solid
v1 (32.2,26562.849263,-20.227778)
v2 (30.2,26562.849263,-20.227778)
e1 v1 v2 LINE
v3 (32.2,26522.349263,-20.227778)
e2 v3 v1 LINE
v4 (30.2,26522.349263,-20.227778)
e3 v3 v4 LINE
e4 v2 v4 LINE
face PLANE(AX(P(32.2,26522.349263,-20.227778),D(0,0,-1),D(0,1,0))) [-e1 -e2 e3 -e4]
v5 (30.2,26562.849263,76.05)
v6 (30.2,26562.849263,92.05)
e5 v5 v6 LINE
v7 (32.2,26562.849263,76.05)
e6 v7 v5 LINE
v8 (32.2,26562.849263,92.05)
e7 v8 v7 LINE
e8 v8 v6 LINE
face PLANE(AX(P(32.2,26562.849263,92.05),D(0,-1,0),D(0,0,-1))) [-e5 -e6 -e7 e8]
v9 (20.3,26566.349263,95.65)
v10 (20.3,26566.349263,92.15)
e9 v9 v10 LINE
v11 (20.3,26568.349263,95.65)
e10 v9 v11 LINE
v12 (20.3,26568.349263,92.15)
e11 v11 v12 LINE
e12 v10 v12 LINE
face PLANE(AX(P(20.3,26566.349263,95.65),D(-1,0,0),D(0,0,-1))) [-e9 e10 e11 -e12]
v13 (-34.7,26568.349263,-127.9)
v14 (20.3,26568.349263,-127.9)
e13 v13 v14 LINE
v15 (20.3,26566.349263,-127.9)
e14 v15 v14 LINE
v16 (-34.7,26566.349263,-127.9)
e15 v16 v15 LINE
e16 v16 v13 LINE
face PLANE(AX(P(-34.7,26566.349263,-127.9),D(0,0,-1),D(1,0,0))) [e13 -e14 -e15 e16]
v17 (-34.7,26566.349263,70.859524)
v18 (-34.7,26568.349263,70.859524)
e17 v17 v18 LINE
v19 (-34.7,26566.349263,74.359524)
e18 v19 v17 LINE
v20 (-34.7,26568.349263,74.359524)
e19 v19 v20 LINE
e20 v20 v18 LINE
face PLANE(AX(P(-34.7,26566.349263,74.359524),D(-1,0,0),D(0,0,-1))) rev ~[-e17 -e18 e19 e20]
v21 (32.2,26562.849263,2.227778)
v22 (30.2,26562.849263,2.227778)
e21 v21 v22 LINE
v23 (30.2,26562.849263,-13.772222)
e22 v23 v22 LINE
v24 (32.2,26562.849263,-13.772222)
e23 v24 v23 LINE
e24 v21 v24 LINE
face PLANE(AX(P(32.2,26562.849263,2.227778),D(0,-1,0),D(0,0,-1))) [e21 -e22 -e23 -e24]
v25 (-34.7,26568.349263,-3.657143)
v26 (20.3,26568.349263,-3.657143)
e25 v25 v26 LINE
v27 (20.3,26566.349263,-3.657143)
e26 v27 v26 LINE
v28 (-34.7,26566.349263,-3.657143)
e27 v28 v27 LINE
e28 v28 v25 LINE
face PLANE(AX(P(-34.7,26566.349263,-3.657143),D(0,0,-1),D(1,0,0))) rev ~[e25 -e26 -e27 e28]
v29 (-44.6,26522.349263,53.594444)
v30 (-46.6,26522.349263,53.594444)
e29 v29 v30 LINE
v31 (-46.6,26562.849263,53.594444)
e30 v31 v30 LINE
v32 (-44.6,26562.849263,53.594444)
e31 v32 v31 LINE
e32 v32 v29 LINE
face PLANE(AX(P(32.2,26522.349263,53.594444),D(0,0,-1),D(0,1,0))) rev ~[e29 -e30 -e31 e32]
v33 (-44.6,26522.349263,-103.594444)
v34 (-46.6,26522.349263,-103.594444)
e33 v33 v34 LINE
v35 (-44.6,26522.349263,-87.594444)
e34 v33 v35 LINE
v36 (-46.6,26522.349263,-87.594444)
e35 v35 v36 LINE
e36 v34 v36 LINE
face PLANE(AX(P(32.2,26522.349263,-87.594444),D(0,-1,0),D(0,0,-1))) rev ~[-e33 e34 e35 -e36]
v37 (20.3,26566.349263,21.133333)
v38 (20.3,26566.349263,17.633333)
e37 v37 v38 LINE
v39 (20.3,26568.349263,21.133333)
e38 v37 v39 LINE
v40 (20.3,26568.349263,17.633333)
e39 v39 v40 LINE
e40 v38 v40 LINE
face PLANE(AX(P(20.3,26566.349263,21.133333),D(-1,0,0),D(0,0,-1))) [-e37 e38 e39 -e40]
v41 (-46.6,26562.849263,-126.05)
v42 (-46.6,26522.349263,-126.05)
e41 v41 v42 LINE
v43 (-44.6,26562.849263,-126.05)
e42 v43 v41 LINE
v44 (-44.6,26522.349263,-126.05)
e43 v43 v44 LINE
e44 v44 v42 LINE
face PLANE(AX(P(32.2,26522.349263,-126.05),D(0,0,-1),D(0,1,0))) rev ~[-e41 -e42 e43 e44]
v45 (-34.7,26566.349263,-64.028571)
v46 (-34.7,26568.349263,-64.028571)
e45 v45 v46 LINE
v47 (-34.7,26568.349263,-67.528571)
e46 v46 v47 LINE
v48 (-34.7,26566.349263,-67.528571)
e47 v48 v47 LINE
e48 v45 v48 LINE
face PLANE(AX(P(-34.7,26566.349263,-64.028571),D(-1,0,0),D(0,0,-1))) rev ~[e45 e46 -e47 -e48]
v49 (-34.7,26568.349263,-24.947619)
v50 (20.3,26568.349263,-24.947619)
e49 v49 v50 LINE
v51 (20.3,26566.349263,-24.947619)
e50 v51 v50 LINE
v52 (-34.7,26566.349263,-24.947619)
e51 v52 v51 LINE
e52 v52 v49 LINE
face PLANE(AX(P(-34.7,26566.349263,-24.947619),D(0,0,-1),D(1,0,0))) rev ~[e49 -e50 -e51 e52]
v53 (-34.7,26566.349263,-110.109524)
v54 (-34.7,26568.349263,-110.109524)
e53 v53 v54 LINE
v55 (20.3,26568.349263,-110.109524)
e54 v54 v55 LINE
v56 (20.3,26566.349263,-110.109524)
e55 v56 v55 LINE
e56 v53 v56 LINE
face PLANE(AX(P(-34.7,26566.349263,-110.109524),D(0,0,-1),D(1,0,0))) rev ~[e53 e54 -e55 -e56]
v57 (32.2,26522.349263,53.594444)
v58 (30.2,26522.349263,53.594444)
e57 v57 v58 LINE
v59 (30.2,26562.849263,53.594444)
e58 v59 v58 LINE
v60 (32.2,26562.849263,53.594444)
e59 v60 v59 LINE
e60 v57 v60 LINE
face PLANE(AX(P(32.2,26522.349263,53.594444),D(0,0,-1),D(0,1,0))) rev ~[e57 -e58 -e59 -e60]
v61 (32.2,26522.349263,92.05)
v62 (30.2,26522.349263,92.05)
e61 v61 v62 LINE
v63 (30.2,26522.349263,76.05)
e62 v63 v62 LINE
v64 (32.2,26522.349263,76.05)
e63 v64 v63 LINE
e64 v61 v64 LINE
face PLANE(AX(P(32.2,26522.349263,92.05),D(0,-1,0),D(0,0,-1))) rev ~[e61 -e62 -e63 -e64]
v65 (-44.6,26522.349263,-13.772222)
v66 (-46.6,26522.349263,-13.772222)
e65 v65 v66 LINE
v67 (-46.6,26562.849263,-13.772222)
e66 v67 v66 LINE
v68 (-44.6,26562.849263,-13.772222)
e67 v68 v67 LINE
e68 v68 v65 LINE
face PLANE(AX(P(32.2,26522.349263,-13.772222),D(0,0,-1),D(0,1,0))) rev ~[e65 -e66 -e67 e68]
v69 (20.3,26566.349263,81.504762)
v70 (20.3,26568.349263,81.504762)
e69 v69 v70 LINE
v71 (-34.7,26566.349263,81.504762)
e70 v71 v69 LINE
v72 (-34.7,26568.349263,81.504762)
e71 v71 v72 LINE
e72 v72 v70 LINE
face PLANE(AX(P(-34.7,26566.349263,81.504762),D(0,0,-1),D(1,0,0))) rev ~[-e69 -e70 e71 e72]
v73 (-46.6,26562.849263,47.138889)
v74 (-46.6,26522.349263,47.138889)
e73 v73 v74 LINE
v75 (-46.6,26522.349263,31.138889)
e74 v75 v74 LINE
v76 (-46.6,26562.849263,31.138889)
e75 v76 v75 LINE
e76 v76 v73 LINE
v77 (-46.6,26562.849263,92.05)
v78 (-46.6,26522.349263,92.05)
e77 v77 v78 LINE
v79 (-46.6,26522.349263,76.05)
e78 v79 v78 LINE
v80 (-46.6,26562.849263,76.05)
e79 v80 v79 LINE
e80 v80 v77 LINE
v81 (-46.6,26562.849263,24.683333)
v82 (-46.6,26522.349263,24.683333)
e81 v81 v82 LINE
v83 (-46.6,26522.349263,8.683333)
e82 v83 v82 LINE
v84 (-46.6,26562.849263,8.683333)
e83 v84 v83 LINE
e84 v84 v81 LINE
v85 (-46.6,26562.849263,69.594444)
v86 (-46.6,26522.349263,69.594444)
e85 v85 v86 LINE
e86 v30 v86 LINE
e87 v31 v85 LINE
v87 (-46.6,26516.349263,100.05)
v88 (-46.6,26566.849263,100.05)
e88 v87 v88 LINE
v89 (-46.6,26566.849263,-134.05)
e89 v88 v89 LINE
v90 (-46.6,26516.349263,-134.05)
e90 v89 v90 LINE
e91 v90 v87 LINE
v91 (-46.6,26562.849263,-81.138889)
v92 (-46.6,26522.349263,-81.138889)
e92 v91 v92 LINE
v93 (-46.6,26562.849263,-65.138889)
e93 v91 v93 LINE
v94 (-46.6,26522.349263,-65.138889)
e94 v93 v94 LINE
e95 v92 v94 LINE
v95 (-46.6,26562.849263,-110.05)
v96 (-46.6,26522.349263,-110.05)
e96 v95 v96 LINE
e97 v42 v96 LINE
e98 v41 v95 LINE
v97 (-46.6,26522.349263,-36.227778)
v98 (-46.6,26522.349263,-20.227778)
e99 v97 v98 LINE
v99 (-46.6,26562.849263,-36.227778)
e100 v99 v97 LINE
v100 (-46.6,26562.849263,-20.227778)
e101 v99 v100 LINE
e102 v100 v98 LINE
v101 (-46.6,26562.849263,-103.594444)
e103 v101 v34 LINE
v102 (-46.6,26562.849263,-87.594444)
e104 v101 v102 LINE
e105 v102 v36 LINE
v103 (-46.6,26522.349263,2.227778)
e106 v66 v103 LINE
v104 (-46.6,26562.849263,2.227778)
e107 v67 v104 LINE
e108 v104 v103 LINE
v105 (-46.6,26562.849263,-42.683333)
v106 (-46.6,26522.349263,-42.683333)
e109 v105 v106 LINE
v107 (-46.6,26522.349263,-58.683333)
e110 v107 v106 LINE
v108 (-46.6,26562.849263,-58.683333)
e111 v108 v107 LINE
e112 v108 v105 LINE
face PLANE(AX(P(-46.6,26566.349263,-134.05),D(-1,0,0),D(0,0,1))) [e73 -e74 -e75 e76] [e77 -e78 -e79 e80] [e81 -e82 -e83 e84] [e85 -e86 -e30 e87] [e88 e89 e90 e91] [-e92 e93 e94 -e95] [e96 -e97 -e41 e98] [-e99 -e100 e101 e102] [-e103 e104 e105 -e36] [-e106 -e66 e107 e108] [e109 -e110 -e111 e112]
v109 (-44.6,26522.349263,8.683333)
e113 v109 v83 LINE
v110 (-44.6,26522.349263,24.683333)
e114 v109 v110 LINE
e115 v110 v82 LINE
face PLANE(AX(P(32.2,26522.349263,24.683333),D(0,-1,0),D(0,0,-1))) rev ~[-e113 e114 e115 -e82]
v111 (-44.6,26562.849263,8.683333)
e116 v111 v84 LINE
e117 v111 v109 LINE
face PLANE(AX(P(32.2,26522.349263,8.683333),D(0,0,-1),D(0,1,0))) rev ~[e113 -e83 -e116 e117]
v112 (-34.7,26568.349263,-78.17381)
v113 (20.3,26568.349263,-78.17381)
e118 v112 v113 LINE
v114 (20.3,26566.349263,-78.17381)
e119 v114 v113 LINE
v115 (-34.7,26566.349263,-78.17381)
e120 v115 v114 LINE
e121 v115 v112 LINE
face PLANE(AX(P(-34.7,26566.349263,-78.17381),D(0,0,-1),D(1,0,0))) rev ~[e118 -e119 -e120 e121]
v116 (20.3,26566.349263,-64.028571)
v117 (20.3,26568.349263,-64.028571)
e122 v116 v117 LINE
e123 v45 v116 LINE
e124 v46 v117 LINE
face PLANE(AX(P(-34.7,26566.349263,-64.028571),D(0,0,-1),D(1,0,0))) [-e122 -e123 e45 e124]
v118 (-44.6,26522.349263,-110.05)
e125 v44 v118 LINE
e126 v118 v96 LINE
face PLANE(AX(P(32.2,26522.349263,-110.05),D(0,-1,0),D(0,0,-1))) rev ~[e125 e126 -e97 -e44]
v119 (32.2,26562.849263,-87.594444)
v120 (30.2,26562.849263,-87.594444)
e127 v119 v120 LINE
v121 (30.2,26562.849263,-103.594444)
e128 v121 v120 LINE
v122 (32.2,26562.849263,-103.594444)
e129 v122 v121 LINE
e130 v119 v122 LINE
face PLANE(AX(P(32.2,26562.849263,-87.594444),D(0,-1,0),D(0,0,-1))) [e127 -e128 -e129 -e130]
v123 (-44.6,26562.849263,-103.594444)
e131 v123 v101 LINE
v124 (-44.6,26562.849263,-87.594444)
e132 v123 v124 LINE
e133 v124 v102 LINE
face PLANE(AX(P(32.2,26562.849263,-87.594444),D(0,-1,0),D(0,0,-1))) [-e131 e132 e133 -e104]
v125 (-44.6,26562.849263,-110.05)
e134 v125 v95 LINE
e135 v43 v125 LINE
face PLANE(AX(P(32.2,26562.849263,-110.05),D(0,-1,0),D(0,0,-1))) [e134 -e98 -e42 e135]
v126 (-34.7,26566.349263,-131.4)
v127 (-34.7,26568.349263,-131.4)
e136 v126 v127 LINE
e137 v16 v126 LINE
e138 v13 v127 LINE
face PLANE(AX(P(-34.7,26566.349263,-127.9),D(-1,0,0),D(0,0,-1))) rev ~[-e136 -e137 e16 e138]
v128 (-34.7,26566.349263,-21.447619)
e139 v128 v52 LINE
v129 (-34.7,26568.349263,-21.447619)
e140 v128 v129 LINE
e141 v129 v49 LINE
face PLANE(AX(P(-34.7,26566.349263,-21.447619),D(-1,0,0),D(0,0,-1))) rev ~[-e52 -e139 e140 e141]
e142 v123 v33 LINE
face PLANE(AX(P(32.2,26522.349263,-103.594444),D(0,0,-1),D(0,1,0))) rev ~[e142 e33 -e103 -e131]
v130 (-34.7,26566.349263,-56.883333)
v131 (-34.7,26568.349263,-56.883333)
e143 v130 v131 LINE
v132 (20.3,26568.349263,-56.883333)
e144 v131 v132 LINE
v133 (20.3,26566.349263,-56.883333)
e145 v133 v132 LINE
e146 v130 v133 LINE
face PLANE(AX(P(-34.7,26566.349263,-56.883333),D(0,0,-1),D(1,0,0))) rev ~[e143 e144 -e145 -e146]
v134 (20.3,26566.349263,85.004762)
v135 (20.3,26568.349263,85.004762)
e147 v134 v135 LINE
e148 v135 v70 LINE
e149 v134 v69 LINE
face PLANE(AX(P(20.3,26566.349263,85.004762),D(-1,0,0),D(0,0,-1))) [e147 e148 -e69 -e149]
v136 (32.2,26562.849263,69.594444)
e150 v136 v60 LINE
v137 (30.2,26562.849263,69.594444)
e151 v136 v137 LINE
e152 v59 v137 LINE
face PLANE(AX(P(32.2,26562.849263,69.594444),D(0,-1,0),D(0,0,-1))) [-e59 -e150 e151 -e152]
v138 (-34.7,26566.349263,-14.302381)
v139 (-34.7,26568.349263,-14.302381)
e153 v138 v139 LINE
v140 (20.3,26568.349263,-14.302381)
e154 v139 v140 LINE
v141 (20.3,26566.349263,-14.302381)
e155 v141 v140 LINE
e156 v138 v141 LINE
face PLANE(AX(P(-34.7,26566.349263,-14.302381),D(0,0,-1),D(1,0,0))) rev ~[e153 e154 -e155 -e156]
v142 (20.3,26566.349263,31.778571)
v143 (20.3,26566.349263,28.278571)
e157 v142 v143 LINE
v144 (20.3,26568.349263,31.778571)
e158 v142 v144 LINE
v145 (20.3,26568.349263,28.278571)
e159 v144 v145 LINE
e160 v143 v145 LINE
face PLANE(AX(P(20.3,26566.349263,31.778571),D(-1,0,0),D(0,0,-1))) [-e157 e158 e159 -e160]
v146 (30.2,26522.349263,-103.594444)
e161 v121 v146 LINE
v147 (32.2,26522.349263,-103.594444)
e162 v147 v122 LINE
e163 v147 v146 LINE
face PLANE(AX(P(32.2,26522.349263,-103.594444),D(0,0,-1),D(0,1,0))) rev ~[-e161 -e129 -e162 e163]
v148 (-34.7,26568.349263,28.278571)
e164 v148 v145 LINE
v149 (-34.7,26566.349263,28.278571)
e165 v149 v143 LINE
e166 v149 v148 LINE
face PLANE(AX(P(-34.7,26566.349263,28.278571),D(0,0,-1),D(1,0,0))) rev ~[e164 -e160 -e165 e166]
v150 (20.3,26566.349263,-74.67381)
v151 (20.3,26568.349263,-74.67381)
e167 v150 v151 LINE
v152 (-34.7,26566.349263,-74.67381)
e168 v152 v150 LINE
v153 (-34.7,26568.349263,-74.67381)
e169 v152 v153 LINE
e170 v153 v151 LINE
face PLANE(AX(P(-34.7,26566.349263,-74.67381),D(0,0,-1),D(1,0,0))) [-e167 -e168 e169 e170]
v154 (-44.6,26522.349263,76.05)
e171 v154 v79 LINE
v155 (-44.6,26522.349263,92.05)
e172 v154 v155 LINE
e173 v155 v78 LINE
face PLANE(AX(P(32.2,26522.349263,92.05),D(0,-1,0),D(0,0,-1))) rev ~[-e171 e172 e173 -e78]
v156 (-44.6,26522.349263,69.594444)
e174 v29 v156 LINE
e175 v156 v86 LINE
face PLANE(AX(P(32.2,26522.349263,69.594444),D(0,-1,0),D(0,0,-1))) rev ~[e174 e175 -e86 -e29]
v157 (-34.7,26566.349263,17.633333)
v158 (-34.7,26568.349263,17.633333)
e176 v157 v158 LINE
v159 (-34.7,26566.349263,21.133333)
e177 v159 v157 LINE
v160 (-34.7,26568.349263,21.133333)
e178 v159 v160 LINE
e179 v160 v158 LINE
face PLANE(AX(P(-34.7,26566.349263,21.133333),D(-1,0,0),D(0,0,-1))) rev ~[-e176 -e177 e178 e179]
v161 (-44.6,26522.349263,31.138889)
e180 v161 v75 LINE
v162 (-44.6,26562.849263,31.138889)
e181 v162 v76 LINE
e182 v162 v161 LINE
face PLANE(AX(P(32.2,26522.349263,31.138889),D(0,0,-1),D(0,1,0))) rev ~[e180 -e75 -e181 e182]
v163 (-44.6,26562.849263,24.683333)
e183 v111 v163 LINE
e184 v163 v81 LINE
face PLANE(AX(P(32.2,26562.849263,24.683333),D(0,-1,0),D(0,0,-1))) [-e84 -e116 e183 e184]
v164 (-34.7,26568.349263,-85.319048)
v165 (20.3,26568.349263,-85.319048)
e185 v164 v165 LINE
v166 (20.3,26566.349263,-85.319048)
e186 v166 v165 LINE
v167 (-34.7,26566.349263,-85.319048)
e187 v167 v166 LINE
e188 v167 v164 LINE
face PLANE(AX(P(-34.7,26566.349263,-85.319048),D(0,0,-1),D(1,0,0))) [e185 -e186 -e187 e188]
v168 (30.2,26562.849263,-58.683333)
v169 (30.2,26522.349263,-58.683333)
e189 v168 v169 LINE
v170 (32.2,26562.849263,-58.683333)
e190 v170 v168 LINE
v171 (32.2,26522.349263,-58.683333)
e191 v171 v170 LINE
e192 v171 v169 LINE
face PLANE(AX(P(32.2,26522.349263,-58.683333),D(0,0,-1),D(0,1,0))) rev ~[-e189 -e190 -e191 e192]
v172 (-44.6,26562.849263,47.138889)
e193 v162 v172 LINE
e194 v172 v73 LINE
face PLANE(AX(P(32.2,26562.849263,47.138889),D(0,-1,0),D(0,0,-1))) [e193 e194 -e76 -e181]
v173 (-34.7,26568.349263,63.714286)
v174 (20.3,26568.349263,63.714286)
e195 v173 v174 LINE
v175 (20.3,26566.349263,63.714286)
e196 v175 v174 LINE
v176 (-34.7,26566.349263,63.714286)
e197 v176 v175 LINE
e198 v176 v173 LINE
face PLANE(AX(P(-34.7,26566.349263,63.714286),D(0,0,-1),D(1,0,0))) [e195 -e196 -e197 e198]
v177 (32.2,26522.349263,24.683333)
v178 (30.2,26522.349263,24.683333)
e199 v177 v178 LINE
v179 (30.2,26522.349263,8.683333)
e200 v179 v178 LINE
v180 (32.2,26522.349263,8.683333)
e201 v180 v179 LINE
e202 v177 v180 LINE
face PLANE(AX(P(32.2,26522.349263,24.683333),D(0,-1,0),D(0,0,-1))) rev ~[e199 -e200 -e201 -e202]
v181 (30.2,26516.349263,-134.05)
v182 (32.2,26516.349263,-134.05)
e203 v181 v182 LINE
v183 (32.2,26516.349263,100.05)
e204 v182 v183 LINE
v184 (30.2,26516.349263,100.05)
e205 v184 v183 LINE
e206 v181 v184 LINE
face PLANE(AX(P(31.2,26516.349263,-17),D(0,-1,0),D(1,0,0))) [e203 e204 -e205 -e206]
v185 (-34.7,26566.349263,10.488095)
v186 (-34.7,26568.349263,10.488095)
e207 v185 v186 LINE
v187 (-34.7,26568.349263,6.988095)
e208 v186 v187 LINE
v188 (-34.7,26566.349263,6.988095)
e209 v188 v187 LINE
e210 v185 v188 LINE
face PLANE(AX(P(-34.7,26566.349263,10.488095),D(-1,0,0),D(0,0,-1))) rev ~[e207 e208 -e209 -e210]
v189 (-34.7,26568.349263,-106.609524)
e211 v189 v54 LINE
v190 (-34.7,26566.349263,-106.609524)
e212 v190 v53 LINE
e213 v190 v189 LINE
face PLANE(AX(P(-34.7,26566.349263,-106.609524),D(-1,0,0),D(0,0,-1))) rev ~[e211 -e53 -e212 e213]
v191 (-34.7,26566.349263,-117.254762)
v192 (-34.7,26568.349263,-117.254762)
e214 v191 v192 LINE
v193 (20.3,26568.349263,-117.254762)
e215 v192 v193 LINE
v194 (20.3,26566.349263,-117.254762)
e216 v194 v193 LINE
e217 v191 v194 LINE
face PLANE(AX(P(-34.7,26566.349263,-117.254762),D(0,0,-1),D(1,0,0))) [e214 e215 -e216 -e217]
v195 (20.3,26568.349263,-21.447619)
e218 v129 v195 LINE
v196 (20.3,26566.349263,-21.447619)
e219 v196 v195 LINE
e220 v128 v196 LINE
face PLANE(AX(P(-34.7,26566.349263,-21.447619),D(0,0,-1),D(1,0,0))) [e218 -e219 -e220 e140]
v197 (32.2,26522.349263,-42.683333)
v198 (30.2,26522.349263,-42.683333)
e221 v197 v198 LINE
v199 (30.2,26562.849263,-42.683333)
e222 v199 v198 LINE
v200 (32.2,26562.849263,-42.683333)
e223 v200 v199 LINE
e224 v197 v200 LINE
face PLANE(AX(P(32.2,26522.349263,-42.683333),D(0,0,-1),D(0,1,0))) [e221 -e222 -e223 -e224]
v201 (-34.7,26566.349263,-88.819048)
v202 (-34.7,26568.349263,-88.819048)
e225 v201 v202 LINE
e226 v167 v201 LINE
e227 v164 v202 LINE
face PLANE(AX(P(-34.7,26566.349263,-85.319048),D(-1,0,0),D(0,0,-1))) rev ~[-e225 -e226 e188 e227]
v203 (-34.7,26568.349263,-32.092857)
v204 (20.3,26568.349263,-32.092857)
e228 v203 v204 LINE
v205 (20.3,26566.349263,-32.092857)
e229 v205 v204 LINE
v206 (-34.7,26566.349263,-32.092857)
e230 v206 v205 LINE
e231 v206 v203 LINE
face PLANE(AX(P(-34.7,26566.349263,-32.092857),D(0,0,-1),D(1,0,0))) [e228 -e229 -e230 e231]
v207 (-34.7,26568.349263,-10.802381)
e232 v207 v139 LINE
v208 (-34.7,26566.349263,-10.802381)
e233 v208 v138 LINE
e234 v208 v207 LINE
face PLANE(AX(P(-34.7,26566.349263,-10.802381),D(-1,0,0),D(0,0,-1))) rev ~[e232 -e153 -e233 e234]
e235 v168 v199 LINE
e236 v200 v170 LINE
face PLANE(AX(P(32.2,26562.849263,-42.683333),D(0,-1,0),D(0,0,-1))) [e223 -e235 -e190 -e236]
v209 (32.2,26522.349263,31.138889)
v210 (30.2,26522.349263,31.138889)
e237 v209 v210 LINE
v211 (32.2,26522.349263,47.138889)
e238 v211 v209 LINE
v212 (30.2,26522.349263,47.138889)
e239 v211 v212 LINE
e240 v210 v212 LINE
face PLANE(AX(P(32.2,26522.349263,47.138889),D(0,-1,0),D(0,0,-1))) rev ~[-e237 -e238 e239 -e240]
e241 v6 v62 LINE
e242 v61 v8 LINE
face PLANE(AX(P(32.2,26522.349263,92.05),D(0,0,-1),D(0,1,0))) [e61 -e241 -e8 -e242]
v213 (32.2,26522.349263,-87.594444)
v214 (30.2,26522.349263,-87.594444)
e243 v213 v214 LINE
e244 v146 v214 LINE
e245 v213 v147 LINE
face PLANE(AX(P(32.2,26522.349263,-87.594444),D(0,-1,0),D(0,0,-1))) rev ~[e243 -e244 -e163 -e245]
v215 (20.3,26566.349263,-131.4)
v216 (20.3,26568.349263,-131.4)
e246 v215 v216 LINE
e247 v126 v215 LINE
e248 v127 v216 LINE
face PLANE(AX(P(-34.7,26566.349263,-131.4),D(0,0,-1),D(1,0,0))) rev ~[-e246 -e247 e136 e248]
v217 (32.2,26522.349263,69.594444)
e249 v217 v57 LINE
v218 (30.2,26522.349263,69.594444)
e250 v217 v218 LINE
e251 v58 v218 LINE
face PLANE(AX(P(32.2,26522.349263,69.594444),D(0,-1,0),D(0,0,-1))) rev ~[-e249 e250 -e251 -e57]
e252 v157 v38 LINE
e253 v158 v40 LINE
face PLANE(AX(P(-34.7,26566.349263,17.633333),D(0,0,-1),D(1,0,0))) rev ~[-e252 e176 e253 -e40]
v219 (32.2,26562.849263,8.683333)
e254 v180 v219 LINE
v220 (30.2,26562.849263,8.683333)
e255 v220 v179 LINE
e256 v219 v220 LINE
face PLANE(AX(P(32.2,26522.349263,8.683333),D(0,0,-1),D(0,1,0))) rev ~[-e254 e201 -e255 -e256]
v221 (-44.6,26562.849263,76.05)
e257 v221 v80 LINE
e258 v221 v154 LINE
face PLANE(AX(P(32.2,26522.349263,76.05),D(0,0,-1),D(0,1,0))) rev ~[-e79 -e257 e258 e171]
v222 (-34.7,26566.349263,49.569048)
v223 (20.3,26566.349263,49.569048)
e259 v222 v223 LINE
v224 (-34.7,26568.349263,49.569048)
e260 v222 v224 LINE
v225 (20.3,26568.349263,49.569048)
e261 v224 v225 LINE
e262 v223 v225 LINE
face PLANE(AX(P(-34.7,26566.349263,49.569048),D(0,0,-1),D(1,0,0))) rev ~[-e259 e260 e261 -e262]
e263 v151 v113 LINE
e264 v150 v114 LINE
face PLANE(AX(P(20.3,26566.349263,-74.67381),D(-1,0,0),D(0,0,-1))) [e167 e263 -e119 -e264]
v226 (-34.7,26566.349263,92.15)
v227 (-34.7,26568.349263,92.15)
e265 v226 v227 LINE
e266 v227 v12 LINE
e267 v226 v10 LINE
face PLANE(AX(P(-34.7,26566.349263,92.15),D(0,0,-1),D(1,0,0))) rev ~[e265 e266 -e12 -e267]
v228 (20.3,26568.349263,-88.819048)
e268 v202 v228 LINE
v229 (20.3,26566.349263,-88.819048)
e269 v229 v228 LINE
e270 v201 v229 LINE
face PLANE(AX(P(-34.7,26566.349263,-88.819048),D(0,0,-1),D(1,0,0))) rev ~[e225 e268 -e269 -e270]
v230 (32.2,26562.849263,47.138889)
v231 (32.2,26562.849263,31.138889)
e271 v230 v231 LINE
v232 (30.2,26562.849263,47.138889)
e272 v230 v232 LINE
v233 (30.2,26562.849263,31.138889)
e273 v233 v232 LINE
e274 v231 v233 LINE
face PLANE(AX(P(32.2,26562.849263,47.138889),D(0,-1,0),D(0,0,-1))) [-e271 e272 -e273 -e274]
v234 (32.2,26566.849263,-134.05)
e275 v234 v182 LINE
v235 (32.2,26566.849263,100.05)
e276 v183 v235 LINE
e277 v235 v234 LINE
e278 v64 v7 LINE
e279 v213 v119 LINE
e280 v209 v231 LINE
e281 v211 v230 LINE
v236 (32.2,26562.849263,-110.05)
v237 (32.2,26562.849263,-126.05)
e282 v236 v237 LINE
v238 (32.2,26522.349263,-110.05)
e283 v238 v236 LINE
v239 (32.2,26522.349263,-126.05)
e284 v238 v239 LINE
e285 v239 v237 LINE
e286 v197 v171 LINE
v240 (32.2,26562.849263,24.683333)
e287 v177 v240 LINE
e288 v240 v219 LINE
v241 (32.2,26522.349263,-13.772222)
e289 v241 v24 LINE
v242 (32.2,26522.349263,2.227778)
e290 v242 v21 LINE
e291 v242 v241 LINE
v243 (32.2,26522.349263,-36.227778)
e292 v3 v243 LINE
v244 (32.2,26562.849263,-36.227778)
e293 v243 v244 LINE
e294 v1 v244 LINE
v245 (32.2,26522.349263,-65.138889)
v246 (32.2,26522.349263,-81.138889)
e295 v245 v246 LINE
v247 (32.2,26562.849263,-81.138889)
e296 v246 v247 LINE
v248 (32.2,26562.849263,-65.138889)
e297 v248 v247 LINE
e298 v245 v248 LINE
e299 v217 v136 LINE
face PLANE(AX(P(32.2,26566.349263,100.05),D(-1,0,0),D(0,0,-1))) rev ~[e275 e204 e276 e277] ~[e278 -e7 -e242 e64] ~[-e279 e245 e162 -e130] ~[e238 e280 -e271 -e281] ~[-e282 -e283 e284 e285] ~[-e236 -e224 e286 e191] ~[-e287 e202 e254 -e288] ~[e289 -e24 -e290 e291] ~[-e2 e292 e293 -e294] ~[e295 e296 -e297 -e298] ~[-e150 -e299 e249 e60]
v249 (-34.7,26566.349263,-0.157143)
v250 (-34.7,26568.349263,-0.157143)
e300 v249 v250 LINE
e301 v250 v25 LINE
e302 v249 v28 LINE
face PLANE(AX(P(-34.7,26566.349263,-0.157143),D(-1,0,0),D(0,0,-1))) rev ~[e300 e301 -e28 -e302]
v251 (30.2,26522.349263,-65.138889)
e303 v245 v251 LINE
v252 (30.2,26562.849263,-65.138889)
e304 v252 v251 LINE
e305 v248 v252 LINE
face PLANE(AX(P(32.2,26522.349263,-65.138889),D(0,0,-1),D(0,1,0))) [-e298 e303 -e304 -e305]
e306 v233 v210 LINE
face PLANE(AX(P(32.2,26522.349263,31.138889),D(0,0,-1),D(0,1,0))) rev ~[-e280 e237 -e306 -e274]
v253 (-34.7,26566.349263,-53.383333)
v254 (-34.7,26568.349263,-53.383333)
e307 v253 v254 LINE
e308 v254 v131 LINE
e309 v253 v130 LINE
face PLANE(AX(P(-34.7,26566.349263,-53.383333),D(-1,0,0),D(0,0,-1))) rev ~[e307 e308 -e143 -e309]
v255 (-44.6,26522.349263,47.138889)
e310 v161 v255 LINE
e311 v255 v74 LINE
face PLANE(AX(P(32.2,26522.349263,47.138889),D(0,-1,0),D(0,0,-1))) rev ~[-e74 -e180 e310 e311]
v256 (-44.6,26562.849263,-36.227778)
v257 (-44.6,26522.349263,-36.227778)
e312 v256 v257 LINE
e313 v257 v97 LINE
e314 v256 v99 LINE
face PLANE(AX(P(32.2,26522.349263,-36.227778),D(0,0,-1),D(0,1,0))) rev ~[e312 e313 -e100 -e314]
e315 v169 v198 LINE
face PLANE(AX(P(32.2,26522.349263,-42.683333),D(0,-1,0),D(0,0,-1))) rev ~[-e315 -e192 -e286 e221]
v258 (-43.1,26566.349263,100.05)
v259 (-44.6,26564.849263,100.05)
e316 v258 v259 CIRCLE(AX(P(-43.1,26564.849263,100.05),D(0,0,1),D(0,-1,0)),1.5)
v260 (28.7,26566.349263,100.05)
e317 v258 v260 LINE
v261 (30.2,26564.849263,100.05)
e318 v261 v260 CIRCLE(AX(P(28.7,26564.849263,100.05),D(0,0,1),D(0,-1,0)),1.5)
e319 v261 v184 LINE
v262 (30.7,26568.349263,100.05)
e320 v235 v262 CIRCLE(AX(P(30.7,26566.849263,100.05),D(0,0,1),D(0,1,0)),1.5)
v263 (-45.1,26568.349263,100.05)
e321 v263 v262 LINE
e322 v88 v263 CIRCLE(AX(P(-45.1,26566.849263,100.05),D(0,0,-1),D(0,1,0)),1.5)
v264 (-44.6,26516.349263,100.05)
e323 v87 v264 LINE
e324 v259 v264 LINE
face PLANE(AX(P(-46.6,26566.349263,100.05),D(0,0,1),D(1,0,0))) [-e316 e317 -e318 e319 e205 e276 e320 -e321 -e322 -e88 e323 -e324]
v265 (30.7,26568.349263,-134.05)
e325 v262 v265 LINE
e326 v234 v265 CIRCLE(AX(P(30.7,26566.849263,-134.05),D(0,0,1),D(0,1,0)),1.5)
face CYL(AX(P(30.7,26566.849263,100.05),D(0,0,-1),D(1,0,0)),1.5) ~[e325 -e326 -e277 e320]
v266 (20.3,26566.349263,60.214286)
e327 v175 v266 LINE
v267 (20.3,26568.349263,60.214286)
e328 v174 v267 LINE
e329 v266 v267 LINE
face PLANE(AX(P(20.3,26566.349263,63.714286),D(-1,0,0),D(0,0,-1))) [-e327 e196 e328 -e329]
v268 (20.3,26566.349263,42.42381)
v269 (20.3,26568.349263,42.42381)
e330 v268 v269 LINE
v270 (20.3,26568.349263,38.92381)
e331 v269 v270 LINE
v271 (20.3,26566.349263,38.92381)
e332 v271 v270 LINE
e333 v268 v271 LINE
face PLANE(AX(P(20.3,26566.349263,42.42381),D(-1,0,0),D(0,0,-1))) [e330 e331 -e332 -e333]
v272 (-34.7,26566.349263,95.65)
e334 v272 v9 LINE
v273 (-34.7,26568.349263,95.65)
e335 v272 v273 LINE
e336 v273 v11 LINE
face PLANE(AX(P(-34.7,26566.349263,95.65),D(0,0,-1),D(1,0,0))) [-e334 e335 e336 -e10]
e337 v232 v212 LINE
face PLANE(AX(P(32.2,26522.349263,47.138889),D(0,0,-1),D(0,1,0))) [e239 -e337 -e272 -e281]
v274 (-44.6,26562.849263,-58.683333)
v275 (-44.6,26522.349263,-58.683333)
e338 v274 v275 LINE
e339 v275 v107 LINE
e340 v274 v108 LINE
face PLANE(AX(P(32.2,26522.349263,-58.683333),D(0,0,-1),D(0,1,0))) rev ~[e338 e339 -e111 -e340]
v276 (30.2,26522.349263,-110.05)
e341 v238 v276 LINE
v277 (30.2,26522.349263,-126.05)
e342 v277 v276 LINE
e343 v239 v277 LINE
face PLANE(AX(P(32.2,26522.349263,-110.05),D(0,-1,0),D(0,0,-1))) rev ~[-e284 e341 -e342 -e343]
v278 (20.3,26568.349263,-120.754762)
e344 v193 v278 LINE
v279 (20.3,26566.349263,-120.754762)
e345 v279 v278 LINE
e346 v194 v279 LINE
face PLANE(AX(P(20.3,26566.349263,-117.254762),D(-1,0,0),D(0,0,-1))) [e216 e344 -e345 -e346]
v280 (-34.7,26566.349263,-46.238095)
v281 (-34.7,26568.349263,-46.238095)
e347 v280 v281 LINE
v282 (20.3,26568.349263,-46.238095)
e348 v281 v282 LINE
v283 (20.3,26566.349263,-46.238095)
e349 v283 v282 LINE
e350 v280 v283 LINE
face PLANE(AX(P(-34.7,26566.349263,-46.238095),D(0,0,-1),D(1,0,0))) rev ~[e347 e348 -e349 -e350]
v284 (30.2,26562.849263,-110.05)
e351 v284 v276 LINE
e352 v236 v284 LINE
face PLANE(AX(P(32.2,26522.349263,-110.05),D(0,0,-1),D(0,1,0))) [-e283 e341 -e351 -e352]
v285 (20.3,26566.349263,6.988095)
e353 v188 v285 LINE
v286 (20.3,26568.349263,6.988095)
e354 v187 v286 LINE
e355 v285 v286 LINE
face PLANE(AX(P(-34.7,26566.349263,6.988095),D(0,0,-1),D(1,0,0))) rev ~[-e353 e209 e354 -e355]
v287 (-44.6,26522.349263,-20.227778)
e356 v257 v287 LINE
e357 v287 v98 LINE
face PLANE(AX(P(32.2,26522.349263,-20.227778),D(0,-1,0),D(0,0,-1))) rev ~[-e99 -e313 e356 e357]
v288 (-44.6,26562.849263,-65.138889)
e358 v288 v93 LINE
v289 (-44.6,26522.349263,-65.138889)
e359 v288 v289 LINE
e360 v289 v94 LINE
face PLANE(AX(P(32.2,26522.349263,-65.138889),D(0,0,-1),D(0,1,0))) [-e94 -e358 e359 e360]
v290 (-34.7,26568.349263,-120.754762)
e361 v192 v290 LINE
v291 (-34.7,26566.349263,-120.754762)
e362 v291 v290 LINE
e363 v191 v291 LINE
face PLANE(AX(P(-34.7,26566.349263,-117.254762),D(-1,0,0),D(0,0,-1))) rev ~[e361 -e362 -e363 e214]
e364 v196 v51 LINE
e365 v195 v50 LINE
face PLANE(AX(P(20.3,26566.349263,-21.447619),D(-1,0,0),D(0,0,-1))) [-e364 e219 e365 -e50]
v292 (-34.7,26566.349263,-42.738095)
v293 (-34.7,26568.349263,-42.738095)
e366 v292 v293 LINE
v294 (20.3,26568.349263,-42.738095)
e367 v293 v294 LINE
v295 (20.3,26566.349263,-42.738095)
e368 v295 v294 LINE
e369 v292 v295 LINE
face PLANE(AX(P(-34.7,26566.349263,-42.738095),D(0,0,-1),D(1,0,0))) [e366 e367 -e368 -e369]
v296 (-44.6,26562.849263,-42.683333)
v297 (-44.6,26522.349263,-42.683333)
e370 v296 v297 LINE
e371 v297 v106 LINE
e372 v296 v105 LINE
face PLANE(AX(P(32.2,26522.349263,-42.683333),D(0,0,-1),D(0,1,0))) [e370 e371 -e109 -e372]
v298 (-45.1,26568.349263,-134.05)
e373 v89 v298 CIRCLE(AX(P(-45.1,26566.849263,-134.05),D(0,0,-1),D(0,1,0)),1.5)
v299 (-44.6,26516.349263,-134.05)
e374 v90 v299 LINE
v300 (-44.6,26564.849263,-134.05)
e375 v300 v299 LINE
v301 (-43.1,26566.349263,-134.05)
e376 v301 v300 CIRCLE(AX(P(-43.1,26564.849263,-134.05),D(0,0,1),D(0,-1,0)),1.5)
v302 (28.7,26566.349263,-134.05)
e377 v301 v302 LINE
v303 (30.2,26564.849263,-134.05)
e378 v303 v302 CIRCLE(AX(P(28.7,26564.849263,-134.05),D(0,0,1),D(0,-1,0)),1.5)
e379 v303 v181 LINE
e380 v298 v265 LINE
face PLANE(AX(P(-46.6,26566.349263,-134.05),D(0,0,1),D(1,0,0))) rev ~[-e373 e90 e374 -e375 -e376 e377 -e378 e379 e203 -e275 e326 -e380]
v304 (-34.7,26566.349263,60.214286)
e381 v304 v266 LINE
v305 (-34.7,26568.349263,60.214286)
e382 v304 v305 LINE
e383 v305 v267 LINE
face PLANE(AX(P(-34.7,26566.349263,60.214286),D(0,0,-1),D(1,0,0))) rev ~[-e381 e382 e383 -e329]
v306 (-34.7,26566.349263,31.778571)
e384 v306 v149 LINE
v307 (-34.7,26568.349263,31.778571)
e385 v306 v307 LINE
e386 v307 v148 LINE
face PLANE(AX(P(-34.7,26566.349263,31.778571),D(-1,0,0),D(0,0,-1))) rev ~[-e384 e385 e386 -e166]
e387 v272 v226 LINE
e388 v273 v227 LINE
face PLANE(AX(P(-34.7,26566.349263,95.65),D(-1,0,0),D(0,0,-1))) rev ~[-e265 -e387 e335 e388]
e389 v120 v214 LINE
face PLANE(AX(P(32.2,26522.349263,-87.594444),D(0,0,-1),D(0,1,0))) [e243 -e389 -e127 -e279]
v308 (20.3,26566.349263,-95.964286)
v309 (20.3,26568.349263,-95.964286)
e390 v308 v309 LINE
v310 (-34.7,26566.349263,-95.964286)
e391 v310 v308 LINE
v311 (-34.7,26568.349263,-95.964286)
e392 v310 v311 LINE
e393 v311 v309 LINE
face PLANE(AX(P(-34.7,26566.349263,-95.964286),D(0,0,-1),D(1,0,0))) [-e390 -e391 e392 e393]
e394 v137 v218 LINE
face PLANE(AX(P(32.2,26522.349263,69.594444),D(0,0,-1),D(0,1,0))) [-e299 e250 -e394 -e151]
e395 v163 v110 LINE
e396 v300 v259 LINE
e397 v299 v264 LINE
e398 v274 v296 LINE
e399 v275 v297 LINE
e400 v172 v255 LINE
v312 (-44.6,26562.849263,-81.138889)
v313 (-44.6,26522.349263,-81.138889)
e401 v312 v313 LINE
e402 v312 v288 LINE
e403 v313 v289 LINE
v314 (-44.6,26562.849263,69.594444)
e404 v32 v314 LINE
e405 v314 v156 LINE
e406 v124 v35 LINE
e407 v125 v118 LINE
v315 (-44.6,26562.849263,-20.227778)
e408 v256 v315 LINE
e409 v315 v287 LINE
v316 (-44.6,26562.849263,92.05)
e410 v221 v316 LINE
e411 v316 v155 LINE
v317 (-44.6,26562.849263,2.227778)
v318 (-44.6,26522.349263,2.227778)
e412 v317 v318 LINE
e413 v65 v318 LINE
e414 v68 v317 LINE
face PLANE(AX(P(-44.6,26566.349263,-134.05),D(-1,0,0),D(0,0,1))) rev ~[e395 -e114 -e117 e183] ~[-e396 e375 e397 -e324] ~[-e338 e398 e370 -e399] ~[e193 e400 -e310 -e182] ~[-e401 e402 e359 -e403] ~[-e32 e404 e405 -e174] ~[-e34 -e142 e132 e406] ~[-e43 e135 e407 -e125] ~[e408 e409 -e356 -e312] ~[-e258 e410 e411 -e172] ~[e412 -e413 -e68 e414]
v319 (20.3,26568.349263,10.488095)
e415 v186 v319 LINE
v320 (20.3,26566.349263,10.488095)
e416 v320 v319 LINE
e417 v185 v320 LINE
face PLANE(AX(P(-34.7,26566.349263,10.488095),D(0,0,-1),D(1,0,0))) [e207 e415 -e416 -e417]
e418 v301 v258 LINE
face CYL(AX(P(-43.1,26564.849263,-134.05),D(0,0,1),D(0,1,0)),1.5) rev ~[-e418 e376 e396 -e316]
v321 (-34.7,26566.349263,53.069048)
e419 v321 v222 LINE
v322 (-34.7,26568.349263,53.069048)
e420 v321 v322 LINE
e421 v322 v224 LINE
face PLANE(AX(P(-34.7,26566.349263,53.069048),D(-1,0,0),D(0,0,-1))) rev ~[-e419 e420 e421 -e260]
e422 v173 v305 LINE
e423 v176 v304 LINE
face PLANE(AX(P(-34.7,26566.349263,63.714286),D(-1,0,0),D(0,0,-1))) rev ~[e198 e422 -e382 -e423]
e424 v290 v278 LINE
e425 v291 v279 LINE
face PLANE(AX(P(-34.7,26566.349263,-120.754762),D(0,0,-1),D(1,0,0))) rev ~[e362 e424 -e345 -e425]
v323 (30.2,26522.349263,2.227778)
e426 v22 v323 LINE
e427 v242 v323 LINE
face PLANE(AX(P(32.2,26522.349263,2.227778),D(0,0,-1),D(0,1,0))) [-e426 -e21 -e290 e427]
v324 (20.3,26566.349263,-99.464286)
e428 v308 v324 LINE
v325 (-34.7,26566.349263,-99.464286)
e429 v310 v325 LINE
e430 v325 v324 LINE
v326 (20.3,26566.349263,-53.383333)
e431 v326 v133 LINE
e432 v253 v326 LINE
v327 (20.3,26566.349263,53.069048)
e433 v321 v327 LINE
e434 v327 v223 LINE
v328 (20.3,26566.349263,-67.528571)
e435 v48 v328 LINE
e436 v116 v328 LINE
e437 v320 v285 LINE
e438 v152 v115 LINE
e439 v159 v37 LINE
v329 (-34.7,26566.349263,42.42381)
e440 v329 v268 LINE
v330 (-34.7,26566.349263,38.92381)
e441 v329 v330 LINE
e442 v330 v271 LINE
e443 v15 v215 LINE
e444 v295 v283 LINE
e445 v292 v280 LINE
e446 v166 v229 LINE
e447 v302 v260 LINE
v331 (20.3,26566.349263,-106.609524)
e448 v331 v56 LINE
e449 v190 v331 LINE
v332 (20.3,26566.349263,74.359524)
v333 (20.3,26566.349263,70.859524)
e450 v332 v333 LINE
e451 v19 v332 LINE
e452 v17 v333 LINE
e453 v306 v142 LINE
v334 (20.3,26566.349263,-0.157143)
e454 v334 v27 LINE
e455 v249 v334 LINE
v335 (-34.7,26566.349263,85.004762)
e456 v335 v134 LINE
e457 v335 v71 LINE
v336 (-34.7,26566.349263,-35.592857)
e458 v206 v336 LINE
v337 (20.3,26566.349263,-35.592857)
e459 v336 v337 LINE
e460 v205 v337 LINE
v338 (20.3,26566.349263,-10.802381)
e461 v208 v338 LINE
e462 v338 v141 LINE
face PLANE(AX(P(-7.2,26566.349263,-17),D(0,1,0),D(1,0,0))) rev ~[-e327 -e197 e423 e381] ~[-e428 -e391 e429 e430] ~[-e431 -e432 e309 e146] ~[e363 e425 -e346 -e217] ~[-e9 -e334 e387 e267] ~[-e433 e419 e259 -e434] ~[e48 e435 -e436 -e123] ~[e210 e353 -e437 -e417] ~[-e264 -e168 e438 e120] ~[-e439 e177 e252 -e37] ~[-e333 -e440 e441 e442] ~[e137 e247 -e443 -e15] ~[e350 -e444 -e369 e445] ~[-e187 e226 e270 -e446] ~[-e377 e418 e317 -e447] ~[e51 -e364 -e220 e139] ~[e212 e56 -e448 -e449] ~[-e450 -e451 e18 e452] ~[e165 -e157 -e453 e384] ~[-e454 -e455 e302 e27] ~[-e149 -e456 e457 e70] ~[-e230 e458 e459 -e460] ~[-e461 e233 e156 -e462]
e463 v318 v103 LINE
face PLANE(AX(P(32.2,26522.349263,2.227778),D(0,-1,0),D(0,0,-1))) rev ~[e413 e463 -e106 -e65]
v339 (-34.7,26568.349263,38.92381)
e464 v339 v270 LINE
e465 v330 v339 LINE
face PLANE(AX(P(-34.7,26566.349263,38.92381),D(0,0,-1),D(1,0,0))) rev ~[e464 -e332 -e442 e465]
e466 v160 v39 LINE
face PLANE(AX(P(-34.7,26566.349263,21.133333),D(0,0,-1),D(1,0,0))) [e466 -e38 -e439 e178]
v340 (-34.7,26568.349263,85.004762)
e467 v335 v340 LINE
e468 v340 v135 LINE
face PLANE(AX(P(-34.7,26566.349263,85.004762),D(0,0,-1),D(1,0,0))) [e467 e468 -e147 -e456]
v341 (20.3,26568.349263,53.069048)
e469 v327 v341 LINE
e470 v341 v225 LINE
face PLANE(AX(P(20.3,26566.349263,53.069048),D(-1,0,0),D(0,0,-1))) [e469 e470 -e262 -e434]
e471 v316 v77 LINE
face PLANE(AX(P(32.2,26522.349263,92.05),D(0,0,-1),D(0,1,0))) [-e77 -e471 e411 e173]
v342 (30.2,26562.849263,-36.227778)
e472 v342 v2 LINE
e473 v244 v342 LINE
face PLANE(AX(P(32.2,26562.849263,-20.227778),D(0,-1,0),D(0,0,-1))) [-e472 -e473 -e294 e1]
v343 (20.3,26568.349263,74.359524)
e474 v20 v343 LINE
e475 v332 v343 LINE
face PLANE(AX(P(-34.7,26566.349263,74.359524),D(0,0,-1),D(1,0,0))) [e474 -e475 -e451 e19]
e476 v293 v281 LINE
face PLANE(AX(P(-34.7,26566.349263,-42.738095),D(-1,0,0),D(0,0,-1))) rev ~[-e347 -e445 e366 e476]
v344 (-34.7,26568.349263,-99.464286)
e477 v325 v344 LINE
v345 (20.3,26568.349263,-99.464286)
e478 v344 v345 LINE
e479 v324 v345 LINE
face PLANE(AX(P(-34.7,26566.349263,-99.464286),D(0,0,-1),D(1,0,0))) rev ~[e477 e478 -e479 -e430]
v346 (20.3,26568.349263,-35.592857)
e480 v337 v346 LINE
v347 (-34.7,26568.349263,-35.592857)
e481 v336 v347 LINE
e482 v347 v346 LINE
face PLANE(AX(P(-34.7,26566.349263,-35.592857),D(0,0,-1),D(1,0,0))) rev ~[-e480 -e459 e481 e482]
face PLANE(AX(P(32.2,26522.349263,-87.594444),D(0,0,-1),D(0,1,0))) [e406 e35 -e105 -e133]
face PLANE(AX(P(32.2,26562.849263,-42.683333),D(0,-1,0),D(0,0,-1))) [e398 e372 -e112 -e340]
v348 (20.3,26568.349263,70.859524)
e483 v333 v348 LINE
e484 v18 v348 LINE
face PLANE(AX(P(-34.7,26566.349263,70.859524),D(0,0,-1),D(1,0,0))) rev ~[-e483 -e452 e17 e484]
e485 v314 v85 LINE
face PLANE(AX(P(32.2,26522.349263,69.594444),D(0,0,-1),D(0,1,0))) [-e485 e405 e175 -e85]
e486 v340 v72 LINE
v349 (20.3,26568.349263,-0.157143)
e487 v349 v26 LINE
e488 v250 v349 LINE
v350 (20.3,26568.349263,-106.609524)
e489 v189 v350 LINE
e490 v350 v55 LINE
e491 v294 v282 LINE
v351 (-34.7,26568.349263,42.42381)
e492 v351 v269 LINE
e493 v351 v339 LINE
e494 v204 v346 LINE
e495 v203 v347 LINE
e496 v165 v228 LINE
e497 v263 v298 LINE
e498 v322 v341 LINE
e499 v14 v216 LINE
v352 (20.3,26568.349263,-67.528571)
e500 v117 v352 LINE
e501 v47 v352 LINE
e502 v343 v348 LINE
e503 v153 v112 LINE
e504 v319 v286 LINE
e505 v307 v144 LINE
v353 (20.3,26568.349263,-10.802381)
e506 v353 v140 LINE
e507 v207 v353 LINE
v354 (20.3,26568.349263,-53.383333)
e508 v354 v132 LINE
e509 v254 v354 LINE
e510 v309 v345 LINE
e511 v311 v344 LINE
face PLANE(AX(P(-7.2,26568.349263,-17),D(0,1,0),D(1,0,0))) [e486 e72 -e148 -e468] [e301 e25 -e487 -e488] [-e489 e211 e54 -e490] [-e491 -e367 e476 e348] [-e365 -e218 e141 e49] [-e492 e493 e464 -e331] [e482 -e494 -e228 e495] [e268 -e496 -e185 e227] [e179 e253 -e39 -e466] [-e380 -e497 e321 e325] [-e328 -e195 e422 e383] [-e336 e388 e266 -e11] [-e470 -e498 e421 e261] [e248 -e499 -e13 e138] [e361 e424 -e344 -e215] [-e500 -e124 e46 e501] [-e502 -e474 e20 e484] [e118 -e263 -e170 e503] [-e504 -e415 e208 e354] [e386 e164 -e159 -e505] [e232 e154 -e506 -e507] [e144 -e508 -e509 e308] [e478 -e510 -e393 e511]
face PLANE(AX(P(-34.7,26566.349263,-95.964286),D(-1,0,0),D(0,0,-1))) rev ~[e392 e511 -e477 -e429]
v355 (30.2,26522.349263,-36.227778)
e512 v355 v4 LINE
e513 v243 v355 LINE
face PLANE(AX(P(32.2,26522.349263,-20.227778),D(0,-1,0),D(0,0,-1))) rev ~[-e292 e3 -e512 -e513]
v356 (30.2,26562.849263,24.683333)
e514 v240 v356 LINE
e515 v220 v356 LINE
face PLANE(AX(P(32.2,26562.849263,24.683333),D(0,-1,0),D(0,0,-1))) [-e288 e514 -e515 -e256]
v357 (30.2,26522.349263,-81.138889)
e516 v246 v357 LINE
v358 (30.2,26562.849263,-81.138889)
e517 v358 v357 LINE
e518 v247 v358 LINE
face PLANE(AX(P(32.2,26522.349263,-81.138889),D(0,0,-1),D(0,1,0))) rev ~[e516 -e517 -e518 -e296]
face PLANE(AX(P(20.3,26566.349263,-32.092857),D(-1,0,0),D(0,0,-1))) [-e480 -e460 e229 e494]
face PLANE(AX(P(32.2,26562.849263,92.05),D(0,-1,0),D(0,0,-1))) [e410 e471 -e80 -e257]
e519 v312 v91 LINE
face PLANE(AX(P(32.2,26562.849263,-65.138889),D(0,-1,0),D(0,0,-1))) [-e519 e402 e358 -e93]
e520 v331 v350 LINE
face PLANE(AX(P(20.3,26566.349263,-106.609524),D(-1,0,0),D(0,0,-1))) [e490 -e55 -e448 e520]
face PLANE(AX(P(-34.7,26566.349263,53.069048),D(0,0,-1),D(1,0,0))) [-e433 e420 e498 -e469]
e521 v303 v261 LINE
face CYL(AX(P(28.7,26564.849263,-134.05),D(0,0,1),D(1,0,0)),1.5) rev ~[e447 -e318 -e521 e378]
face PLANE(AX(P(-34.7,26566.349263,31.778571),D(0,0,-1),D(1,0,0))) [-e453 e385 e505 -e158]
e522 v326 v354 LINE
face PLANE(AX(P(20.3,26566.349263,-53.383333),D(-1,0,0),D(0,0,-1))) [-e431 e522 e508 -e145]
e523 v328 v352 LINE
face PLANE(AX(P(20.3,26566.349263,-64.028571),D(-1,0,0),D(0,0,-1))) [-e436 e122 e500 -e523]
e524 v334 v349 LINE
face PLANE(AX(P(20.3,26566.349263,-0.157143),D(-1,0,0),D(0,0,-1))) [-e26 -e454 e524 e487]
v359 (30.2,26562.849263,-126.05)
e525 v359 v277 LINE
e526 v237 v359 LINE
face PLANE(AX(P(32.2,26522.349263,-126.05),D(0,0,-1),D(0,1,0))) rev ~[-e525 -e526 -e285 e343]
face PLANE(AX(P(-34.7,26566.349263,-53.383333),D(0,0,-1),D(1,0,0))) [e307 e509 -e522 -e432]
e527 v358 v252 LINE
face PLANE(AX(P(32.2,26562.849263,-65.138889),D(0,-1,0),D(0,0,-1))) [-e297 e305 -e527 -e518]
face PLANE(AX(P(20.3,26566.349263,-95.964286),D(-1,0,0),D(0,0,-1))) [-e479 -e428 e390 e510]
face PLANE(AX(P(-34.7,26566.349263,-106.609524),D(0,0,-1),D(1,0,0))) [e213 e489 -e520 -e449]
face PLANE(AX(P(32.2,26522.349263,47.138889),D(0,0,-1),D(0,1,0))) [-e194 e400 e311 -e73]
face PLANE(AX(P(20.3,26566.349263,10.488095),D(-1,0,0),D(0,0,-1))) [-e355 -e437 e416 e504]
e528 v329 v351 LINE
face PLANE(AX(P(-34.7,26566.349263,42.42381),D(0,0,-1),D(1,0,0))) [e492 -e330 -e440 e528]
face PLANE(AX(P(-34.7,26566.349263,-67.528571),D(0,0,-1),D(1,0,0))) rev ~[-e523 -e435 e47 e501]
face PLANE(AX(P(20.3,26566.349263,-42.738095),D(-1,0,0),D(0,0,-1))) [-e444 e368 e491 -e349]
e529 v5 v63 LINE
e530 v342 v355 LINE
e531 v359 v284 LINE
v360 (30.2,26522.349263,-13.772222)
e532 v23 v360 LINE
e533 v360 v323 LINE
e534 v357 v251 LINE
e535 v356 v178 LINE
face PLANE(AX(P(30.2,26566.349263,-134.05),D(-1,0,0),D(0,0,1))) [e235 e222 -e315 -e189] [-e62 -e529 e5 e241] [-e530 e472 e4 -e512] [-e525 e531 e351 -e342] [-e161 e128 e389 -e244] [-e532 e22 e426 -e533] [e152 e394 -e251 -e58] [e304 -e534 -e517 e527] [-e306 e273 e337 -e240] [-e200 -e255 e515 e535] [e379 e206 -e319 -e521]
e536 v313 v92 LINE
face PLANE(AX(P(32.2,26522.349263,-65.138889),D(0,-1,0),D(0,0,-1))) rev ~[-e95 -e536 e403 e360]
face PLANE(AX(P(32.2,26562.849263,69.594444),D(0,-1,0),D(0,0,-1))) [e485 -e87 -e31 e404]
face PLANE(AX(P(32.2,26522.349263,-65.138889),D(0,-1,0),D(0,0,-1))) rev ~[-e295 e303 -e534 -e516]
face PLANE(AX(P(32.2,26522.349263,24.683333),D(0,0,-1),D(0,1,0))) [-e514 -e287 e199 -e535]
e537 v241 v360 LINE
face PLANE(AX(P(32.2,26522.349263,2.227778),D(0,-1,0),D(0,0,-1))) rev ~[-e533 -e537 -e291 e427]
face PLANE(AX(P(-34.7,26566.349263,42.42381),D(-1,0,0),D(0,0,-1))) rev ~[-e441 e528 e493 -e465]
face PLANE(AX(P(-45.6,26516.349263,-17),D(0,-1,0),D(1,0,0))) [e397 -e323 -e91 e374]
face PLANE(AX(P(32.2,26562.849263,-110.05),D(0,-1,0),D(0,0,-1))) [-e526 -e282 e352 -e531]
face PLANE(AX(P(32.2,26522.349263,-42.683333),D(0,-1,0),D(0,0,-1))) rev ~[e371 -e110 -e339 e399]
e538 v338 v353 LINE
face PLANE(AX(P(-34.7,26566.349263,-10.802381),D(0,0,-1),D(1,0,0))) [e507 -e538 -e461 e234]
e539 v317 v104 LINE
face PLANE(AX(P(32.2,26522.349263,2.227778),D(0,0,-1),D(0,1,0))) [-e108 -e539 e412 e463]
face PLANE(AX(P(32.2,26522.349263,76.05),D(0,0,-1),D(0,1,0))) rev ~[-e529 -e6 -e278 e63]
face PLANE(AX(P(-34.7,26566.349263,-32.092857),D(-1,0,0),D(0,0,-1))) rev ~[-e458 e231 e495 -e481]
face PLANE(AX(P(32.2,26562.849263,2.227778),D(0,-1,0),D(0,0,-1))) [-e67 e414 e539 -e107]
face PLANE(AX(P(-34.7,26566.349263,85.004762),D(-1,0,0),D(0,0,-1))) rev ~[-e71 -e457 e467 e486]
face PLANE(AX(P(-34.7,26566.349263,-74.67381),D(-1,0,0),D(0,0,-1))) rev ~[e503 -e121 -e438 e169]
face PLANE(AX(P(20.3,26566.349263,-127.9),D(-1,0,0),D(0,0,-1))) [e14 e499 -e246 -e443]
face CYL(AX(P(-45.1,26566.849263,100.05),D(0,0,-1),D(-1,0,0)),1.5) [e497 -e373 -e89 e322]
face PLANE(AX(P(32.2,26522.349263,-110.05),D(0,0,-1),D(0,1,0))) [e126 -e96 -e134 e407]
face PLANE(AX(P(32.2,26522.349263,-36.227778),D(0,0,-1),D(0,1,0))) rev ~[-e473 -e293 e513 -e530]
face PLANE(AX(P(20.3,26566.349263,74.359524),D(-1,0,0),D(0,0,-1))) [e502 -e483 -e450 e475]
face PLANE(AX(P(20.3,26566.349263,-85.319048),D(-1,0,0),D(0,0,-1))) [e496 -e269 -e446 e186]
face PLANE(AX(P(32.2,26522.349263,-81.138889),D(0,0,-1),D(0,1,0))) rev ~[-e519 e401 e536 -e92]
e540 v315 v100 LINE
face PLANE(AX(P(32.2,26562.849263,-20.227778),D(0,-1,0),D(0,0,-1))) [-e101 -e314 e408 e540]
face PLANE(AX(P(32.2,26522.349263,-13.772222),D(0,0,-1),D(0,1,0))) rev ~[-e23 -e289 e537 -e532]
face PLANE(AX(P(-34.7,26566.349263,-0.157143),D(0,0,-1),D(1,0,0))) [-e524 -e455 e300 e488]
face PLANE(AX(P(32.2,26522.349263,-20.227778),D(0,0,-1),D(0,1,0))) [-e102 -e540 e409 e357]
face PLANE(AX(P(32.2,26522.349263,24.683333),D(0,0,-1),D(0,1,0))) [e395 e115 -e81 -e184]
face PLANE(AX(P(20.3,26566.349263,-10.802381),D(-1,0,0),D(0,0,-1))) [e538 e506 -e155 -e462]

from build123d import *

# Parameters (mm, degrees)
SKETCH2_W           = 78.8
SKETCH2_H           = 234.1
SKETCH2_W_2         = 55
SKETCH2_H_2         = 3.5
BOSS_EXTRUDE1_DEPTH = 2
SKETCH3_W           = 2
SKETCH3_H           = 234.1
BOSS_EXTRUDE2_DEPTH = 50
FILLET1_R           = 1.5
SKETCH4_W           = 16
SKETCH4_H           = 40.5
CUT_EXTRUDE1_DEPTH  = 26569.804290094


with BuildPart() as part:
    # Sketch2 → Boss-Extrude1 (new body)
    with BuildSketch(Plane(origin=(0, 26566.349263039, 0), x_dir=(1, 0, 0), z_dir=(0, 1, 0))):
        with Locations((-7.2, 17)):
            Rectangle(SKETCH2_W, SKETCH2_H)
        with Locations((-7.2, 119.004761905)):
            Rectangle(SKETCH2_W_2, SKETCH2_H_2, mode=Mode.SUBTRACT)
        with Locations((-7.2, 129.65)):
            Rectangle(SKETCH2_W_2, SKETCH2_H_2, mode=Mode.SUBTRACT)
        with Locations((-7.2, 108.35952381)):
            Rectangle(SKETCH2_W_2, SKETCH2_H_2, mode=Mode.SUBTRACT)
        with Locations((-7.2, 97.714285714)):
            Rectangle(SKETCH2_W_2, SKETCH2_H_2, mode=Mode.SUBTRACT)
        with Locations((-7.2, 87.069047619)):
            Rectangle(SKETCH2_W_2, SKETCH2_H_2, mode=Mode.SUBTRACT)
        with Locations((-7.2, 76.423809524)):
            Rectangle(SKETCH2_W_2, SKETCH2_H_2, mode=Mode.SUBTRACT)
        with Locations((-7.2, 65.778571429)):
            Rectangle(SKETCH2_W_2, SKETCH2_H_2, mode=Mode.SUBTRACT)
        with Locations((-7.2, 55.133333333)):
            Rectangle(SKETCH2_W_2, SKETCH2_H_2, mode=Mode.SUBTRACT)
        with Locations((-7.2, 44.488095238)):
            Rectangle(SKETCH2_W_2, SKETCH2_H_2, mode=Mode.SUBTRACT)
        with Locations((-7.2, 33.842857143)):
            Rectangle(SKETCH2_W_2, SKETCH2_H_2, mode=Mode.SUBTRACT)
        with Locations((-7.2, 23.197619048)):
            Rectangle(SKETCH2_W_2, SKETCH2_H_2, mode=Mode.SUBTRACT)
        with Locations((-7.2, 12.552380952)):
            Rectangle(SKETCH2_W_2, SKETCH2_H_2, mode=Mode.SUBTRACT)
        with Locations((-7.2, 1.907142857)):
            Rectangle(SKETCH2_W_2, SKETCH2_H_2, mode=Mode.SUBTRACT)
        with Locations((-7.2, -8.738095238)):
            Rectangle(SKETCH2_W_2, SKETCH2_H_2, mode=Mode.SUBTRACT)
        with Locations((-7.2, -19.383333333)):
            Rectangle(SKETCH2_W_2, SKETCH2_H_2, mode=Mode.SUBTRACT)
        with Locations((-7.2, -30.028571429)):
            Rectangle(SKETCH2_W_2, SKETCH2_H_2, mode=Mode.SUBTRACT)
        with Locations((-7.2, -40.673809524)):
            Rectangle(SKETCH2_W_2, SKETCH2_H_2, mode=Mode.SUBTRACT)
        with Locations((-7.2, -51.319047619)):
            Rectangle(SKETCH2_W_2, SKETCH2_H_2, mode=Mode.SUBTRACT)
        with Locations((-7.2, -61.964285714)):
            Rectangle(SKETCH2_W_2, SKETCH2_H_2, mode=Mode.SUBTRACT)
        with Locations((-7.2, -72.60952381)):
            Rectangle(SKETCH2_W_2, SKETCH2_H_2, mode=Mode.SUBTRACT)
        with Locations((-7.2, -83.254761905)):
            Rectangle(SKETCH2_W_2, SKETCH2_H_2, mode=Mode.SUBTRACT)
        with Locations((-7.2, -93.9)):
            Rectangle(SKETCH2_W_2, SKETCH2_H_2, mode=Mode.SUBTRACT)
    extrude(amount=BOSS_EXTRUDE1_DEPTH)

    # Sketch3 → Boss-Extrude2 (add)
    with BuildSketch(Plane.XZ.offset(-26566.349263039)):
        with Locations((-45.6, -17)):
            Rectangle(SKETCH3_W, SKETCH3_H)
        with Locations((31.2, -17)):
            Rectangle(SKETCH3_W, SKETCH3_H)
    extrude(amount=BOSS_EXTRUDE2_DEPTH)

    # Fillet1
    fillet1_edges = [part.edges().sort_by_distance(p)[0] for p in [
        (32.2, 26568.349263039, -17),
        (-44.6, 26566.349263039, -17),
        (30.2, 26566.349263039, -17),
        (-46.6, 26568.349263039, -17),
    ]]
    fillet(fillet1_edges, radius=FILLET1_R)

    # Sketch4 → Cut-Extrude1 (cut, through all)
    with BuildSketch(Plane(origin=(32.2, 0, 0), x_dir=(0, 0, -1), z_dir=(1, 0, 0))):
        with Locations((-84.05, 26542.599263039)):
            Rectangle(SKETCH4_W, SKETCH4_H)
        with Locations((-61.594444444, 26542.599263039)):
            Rectangle(SKETCH4_W, SKETCH4_H)
        with Locations((-39.138888889, 26542.599263039)):
            Rectangle(SKETCH4_W, SKETCH4_H)
        with Locations((-16.683333333, 26542.599263039)):
            Rectangle(SKETCH4_W, SKETCH4_H)
        with Locations((5.772222222, 26542.599263039)):
            Rectangle(SKETCH4_W, SKETCH4_H)
        with Locations((28.227777778, 26542.599263039)):
            Rectangle(SKETCH4_W, SKETCH4_H)
        with Locations((50.683333333, 26542.599263039)):
            Rectangle(SKETCH4_W, SKETCH4_H)
        with Locations((73.138888889, 26542.599263039)):
            Rectangle(SKETCH4_W, SKETCH4_H)
        with Locations((95.594444444, 26542.599263039)):
            Rectangle(SKETCH4_W, SKETCH4_H)
        with Locations((118.05, 26542.599263039)):
            Rectangle(SKETCH4_W, SKETCH4_H)
    extrude(amount=-CUT_EXTRUDE1_DEPTH, mode=Mode.SUBTRACT)


solid = part.part
